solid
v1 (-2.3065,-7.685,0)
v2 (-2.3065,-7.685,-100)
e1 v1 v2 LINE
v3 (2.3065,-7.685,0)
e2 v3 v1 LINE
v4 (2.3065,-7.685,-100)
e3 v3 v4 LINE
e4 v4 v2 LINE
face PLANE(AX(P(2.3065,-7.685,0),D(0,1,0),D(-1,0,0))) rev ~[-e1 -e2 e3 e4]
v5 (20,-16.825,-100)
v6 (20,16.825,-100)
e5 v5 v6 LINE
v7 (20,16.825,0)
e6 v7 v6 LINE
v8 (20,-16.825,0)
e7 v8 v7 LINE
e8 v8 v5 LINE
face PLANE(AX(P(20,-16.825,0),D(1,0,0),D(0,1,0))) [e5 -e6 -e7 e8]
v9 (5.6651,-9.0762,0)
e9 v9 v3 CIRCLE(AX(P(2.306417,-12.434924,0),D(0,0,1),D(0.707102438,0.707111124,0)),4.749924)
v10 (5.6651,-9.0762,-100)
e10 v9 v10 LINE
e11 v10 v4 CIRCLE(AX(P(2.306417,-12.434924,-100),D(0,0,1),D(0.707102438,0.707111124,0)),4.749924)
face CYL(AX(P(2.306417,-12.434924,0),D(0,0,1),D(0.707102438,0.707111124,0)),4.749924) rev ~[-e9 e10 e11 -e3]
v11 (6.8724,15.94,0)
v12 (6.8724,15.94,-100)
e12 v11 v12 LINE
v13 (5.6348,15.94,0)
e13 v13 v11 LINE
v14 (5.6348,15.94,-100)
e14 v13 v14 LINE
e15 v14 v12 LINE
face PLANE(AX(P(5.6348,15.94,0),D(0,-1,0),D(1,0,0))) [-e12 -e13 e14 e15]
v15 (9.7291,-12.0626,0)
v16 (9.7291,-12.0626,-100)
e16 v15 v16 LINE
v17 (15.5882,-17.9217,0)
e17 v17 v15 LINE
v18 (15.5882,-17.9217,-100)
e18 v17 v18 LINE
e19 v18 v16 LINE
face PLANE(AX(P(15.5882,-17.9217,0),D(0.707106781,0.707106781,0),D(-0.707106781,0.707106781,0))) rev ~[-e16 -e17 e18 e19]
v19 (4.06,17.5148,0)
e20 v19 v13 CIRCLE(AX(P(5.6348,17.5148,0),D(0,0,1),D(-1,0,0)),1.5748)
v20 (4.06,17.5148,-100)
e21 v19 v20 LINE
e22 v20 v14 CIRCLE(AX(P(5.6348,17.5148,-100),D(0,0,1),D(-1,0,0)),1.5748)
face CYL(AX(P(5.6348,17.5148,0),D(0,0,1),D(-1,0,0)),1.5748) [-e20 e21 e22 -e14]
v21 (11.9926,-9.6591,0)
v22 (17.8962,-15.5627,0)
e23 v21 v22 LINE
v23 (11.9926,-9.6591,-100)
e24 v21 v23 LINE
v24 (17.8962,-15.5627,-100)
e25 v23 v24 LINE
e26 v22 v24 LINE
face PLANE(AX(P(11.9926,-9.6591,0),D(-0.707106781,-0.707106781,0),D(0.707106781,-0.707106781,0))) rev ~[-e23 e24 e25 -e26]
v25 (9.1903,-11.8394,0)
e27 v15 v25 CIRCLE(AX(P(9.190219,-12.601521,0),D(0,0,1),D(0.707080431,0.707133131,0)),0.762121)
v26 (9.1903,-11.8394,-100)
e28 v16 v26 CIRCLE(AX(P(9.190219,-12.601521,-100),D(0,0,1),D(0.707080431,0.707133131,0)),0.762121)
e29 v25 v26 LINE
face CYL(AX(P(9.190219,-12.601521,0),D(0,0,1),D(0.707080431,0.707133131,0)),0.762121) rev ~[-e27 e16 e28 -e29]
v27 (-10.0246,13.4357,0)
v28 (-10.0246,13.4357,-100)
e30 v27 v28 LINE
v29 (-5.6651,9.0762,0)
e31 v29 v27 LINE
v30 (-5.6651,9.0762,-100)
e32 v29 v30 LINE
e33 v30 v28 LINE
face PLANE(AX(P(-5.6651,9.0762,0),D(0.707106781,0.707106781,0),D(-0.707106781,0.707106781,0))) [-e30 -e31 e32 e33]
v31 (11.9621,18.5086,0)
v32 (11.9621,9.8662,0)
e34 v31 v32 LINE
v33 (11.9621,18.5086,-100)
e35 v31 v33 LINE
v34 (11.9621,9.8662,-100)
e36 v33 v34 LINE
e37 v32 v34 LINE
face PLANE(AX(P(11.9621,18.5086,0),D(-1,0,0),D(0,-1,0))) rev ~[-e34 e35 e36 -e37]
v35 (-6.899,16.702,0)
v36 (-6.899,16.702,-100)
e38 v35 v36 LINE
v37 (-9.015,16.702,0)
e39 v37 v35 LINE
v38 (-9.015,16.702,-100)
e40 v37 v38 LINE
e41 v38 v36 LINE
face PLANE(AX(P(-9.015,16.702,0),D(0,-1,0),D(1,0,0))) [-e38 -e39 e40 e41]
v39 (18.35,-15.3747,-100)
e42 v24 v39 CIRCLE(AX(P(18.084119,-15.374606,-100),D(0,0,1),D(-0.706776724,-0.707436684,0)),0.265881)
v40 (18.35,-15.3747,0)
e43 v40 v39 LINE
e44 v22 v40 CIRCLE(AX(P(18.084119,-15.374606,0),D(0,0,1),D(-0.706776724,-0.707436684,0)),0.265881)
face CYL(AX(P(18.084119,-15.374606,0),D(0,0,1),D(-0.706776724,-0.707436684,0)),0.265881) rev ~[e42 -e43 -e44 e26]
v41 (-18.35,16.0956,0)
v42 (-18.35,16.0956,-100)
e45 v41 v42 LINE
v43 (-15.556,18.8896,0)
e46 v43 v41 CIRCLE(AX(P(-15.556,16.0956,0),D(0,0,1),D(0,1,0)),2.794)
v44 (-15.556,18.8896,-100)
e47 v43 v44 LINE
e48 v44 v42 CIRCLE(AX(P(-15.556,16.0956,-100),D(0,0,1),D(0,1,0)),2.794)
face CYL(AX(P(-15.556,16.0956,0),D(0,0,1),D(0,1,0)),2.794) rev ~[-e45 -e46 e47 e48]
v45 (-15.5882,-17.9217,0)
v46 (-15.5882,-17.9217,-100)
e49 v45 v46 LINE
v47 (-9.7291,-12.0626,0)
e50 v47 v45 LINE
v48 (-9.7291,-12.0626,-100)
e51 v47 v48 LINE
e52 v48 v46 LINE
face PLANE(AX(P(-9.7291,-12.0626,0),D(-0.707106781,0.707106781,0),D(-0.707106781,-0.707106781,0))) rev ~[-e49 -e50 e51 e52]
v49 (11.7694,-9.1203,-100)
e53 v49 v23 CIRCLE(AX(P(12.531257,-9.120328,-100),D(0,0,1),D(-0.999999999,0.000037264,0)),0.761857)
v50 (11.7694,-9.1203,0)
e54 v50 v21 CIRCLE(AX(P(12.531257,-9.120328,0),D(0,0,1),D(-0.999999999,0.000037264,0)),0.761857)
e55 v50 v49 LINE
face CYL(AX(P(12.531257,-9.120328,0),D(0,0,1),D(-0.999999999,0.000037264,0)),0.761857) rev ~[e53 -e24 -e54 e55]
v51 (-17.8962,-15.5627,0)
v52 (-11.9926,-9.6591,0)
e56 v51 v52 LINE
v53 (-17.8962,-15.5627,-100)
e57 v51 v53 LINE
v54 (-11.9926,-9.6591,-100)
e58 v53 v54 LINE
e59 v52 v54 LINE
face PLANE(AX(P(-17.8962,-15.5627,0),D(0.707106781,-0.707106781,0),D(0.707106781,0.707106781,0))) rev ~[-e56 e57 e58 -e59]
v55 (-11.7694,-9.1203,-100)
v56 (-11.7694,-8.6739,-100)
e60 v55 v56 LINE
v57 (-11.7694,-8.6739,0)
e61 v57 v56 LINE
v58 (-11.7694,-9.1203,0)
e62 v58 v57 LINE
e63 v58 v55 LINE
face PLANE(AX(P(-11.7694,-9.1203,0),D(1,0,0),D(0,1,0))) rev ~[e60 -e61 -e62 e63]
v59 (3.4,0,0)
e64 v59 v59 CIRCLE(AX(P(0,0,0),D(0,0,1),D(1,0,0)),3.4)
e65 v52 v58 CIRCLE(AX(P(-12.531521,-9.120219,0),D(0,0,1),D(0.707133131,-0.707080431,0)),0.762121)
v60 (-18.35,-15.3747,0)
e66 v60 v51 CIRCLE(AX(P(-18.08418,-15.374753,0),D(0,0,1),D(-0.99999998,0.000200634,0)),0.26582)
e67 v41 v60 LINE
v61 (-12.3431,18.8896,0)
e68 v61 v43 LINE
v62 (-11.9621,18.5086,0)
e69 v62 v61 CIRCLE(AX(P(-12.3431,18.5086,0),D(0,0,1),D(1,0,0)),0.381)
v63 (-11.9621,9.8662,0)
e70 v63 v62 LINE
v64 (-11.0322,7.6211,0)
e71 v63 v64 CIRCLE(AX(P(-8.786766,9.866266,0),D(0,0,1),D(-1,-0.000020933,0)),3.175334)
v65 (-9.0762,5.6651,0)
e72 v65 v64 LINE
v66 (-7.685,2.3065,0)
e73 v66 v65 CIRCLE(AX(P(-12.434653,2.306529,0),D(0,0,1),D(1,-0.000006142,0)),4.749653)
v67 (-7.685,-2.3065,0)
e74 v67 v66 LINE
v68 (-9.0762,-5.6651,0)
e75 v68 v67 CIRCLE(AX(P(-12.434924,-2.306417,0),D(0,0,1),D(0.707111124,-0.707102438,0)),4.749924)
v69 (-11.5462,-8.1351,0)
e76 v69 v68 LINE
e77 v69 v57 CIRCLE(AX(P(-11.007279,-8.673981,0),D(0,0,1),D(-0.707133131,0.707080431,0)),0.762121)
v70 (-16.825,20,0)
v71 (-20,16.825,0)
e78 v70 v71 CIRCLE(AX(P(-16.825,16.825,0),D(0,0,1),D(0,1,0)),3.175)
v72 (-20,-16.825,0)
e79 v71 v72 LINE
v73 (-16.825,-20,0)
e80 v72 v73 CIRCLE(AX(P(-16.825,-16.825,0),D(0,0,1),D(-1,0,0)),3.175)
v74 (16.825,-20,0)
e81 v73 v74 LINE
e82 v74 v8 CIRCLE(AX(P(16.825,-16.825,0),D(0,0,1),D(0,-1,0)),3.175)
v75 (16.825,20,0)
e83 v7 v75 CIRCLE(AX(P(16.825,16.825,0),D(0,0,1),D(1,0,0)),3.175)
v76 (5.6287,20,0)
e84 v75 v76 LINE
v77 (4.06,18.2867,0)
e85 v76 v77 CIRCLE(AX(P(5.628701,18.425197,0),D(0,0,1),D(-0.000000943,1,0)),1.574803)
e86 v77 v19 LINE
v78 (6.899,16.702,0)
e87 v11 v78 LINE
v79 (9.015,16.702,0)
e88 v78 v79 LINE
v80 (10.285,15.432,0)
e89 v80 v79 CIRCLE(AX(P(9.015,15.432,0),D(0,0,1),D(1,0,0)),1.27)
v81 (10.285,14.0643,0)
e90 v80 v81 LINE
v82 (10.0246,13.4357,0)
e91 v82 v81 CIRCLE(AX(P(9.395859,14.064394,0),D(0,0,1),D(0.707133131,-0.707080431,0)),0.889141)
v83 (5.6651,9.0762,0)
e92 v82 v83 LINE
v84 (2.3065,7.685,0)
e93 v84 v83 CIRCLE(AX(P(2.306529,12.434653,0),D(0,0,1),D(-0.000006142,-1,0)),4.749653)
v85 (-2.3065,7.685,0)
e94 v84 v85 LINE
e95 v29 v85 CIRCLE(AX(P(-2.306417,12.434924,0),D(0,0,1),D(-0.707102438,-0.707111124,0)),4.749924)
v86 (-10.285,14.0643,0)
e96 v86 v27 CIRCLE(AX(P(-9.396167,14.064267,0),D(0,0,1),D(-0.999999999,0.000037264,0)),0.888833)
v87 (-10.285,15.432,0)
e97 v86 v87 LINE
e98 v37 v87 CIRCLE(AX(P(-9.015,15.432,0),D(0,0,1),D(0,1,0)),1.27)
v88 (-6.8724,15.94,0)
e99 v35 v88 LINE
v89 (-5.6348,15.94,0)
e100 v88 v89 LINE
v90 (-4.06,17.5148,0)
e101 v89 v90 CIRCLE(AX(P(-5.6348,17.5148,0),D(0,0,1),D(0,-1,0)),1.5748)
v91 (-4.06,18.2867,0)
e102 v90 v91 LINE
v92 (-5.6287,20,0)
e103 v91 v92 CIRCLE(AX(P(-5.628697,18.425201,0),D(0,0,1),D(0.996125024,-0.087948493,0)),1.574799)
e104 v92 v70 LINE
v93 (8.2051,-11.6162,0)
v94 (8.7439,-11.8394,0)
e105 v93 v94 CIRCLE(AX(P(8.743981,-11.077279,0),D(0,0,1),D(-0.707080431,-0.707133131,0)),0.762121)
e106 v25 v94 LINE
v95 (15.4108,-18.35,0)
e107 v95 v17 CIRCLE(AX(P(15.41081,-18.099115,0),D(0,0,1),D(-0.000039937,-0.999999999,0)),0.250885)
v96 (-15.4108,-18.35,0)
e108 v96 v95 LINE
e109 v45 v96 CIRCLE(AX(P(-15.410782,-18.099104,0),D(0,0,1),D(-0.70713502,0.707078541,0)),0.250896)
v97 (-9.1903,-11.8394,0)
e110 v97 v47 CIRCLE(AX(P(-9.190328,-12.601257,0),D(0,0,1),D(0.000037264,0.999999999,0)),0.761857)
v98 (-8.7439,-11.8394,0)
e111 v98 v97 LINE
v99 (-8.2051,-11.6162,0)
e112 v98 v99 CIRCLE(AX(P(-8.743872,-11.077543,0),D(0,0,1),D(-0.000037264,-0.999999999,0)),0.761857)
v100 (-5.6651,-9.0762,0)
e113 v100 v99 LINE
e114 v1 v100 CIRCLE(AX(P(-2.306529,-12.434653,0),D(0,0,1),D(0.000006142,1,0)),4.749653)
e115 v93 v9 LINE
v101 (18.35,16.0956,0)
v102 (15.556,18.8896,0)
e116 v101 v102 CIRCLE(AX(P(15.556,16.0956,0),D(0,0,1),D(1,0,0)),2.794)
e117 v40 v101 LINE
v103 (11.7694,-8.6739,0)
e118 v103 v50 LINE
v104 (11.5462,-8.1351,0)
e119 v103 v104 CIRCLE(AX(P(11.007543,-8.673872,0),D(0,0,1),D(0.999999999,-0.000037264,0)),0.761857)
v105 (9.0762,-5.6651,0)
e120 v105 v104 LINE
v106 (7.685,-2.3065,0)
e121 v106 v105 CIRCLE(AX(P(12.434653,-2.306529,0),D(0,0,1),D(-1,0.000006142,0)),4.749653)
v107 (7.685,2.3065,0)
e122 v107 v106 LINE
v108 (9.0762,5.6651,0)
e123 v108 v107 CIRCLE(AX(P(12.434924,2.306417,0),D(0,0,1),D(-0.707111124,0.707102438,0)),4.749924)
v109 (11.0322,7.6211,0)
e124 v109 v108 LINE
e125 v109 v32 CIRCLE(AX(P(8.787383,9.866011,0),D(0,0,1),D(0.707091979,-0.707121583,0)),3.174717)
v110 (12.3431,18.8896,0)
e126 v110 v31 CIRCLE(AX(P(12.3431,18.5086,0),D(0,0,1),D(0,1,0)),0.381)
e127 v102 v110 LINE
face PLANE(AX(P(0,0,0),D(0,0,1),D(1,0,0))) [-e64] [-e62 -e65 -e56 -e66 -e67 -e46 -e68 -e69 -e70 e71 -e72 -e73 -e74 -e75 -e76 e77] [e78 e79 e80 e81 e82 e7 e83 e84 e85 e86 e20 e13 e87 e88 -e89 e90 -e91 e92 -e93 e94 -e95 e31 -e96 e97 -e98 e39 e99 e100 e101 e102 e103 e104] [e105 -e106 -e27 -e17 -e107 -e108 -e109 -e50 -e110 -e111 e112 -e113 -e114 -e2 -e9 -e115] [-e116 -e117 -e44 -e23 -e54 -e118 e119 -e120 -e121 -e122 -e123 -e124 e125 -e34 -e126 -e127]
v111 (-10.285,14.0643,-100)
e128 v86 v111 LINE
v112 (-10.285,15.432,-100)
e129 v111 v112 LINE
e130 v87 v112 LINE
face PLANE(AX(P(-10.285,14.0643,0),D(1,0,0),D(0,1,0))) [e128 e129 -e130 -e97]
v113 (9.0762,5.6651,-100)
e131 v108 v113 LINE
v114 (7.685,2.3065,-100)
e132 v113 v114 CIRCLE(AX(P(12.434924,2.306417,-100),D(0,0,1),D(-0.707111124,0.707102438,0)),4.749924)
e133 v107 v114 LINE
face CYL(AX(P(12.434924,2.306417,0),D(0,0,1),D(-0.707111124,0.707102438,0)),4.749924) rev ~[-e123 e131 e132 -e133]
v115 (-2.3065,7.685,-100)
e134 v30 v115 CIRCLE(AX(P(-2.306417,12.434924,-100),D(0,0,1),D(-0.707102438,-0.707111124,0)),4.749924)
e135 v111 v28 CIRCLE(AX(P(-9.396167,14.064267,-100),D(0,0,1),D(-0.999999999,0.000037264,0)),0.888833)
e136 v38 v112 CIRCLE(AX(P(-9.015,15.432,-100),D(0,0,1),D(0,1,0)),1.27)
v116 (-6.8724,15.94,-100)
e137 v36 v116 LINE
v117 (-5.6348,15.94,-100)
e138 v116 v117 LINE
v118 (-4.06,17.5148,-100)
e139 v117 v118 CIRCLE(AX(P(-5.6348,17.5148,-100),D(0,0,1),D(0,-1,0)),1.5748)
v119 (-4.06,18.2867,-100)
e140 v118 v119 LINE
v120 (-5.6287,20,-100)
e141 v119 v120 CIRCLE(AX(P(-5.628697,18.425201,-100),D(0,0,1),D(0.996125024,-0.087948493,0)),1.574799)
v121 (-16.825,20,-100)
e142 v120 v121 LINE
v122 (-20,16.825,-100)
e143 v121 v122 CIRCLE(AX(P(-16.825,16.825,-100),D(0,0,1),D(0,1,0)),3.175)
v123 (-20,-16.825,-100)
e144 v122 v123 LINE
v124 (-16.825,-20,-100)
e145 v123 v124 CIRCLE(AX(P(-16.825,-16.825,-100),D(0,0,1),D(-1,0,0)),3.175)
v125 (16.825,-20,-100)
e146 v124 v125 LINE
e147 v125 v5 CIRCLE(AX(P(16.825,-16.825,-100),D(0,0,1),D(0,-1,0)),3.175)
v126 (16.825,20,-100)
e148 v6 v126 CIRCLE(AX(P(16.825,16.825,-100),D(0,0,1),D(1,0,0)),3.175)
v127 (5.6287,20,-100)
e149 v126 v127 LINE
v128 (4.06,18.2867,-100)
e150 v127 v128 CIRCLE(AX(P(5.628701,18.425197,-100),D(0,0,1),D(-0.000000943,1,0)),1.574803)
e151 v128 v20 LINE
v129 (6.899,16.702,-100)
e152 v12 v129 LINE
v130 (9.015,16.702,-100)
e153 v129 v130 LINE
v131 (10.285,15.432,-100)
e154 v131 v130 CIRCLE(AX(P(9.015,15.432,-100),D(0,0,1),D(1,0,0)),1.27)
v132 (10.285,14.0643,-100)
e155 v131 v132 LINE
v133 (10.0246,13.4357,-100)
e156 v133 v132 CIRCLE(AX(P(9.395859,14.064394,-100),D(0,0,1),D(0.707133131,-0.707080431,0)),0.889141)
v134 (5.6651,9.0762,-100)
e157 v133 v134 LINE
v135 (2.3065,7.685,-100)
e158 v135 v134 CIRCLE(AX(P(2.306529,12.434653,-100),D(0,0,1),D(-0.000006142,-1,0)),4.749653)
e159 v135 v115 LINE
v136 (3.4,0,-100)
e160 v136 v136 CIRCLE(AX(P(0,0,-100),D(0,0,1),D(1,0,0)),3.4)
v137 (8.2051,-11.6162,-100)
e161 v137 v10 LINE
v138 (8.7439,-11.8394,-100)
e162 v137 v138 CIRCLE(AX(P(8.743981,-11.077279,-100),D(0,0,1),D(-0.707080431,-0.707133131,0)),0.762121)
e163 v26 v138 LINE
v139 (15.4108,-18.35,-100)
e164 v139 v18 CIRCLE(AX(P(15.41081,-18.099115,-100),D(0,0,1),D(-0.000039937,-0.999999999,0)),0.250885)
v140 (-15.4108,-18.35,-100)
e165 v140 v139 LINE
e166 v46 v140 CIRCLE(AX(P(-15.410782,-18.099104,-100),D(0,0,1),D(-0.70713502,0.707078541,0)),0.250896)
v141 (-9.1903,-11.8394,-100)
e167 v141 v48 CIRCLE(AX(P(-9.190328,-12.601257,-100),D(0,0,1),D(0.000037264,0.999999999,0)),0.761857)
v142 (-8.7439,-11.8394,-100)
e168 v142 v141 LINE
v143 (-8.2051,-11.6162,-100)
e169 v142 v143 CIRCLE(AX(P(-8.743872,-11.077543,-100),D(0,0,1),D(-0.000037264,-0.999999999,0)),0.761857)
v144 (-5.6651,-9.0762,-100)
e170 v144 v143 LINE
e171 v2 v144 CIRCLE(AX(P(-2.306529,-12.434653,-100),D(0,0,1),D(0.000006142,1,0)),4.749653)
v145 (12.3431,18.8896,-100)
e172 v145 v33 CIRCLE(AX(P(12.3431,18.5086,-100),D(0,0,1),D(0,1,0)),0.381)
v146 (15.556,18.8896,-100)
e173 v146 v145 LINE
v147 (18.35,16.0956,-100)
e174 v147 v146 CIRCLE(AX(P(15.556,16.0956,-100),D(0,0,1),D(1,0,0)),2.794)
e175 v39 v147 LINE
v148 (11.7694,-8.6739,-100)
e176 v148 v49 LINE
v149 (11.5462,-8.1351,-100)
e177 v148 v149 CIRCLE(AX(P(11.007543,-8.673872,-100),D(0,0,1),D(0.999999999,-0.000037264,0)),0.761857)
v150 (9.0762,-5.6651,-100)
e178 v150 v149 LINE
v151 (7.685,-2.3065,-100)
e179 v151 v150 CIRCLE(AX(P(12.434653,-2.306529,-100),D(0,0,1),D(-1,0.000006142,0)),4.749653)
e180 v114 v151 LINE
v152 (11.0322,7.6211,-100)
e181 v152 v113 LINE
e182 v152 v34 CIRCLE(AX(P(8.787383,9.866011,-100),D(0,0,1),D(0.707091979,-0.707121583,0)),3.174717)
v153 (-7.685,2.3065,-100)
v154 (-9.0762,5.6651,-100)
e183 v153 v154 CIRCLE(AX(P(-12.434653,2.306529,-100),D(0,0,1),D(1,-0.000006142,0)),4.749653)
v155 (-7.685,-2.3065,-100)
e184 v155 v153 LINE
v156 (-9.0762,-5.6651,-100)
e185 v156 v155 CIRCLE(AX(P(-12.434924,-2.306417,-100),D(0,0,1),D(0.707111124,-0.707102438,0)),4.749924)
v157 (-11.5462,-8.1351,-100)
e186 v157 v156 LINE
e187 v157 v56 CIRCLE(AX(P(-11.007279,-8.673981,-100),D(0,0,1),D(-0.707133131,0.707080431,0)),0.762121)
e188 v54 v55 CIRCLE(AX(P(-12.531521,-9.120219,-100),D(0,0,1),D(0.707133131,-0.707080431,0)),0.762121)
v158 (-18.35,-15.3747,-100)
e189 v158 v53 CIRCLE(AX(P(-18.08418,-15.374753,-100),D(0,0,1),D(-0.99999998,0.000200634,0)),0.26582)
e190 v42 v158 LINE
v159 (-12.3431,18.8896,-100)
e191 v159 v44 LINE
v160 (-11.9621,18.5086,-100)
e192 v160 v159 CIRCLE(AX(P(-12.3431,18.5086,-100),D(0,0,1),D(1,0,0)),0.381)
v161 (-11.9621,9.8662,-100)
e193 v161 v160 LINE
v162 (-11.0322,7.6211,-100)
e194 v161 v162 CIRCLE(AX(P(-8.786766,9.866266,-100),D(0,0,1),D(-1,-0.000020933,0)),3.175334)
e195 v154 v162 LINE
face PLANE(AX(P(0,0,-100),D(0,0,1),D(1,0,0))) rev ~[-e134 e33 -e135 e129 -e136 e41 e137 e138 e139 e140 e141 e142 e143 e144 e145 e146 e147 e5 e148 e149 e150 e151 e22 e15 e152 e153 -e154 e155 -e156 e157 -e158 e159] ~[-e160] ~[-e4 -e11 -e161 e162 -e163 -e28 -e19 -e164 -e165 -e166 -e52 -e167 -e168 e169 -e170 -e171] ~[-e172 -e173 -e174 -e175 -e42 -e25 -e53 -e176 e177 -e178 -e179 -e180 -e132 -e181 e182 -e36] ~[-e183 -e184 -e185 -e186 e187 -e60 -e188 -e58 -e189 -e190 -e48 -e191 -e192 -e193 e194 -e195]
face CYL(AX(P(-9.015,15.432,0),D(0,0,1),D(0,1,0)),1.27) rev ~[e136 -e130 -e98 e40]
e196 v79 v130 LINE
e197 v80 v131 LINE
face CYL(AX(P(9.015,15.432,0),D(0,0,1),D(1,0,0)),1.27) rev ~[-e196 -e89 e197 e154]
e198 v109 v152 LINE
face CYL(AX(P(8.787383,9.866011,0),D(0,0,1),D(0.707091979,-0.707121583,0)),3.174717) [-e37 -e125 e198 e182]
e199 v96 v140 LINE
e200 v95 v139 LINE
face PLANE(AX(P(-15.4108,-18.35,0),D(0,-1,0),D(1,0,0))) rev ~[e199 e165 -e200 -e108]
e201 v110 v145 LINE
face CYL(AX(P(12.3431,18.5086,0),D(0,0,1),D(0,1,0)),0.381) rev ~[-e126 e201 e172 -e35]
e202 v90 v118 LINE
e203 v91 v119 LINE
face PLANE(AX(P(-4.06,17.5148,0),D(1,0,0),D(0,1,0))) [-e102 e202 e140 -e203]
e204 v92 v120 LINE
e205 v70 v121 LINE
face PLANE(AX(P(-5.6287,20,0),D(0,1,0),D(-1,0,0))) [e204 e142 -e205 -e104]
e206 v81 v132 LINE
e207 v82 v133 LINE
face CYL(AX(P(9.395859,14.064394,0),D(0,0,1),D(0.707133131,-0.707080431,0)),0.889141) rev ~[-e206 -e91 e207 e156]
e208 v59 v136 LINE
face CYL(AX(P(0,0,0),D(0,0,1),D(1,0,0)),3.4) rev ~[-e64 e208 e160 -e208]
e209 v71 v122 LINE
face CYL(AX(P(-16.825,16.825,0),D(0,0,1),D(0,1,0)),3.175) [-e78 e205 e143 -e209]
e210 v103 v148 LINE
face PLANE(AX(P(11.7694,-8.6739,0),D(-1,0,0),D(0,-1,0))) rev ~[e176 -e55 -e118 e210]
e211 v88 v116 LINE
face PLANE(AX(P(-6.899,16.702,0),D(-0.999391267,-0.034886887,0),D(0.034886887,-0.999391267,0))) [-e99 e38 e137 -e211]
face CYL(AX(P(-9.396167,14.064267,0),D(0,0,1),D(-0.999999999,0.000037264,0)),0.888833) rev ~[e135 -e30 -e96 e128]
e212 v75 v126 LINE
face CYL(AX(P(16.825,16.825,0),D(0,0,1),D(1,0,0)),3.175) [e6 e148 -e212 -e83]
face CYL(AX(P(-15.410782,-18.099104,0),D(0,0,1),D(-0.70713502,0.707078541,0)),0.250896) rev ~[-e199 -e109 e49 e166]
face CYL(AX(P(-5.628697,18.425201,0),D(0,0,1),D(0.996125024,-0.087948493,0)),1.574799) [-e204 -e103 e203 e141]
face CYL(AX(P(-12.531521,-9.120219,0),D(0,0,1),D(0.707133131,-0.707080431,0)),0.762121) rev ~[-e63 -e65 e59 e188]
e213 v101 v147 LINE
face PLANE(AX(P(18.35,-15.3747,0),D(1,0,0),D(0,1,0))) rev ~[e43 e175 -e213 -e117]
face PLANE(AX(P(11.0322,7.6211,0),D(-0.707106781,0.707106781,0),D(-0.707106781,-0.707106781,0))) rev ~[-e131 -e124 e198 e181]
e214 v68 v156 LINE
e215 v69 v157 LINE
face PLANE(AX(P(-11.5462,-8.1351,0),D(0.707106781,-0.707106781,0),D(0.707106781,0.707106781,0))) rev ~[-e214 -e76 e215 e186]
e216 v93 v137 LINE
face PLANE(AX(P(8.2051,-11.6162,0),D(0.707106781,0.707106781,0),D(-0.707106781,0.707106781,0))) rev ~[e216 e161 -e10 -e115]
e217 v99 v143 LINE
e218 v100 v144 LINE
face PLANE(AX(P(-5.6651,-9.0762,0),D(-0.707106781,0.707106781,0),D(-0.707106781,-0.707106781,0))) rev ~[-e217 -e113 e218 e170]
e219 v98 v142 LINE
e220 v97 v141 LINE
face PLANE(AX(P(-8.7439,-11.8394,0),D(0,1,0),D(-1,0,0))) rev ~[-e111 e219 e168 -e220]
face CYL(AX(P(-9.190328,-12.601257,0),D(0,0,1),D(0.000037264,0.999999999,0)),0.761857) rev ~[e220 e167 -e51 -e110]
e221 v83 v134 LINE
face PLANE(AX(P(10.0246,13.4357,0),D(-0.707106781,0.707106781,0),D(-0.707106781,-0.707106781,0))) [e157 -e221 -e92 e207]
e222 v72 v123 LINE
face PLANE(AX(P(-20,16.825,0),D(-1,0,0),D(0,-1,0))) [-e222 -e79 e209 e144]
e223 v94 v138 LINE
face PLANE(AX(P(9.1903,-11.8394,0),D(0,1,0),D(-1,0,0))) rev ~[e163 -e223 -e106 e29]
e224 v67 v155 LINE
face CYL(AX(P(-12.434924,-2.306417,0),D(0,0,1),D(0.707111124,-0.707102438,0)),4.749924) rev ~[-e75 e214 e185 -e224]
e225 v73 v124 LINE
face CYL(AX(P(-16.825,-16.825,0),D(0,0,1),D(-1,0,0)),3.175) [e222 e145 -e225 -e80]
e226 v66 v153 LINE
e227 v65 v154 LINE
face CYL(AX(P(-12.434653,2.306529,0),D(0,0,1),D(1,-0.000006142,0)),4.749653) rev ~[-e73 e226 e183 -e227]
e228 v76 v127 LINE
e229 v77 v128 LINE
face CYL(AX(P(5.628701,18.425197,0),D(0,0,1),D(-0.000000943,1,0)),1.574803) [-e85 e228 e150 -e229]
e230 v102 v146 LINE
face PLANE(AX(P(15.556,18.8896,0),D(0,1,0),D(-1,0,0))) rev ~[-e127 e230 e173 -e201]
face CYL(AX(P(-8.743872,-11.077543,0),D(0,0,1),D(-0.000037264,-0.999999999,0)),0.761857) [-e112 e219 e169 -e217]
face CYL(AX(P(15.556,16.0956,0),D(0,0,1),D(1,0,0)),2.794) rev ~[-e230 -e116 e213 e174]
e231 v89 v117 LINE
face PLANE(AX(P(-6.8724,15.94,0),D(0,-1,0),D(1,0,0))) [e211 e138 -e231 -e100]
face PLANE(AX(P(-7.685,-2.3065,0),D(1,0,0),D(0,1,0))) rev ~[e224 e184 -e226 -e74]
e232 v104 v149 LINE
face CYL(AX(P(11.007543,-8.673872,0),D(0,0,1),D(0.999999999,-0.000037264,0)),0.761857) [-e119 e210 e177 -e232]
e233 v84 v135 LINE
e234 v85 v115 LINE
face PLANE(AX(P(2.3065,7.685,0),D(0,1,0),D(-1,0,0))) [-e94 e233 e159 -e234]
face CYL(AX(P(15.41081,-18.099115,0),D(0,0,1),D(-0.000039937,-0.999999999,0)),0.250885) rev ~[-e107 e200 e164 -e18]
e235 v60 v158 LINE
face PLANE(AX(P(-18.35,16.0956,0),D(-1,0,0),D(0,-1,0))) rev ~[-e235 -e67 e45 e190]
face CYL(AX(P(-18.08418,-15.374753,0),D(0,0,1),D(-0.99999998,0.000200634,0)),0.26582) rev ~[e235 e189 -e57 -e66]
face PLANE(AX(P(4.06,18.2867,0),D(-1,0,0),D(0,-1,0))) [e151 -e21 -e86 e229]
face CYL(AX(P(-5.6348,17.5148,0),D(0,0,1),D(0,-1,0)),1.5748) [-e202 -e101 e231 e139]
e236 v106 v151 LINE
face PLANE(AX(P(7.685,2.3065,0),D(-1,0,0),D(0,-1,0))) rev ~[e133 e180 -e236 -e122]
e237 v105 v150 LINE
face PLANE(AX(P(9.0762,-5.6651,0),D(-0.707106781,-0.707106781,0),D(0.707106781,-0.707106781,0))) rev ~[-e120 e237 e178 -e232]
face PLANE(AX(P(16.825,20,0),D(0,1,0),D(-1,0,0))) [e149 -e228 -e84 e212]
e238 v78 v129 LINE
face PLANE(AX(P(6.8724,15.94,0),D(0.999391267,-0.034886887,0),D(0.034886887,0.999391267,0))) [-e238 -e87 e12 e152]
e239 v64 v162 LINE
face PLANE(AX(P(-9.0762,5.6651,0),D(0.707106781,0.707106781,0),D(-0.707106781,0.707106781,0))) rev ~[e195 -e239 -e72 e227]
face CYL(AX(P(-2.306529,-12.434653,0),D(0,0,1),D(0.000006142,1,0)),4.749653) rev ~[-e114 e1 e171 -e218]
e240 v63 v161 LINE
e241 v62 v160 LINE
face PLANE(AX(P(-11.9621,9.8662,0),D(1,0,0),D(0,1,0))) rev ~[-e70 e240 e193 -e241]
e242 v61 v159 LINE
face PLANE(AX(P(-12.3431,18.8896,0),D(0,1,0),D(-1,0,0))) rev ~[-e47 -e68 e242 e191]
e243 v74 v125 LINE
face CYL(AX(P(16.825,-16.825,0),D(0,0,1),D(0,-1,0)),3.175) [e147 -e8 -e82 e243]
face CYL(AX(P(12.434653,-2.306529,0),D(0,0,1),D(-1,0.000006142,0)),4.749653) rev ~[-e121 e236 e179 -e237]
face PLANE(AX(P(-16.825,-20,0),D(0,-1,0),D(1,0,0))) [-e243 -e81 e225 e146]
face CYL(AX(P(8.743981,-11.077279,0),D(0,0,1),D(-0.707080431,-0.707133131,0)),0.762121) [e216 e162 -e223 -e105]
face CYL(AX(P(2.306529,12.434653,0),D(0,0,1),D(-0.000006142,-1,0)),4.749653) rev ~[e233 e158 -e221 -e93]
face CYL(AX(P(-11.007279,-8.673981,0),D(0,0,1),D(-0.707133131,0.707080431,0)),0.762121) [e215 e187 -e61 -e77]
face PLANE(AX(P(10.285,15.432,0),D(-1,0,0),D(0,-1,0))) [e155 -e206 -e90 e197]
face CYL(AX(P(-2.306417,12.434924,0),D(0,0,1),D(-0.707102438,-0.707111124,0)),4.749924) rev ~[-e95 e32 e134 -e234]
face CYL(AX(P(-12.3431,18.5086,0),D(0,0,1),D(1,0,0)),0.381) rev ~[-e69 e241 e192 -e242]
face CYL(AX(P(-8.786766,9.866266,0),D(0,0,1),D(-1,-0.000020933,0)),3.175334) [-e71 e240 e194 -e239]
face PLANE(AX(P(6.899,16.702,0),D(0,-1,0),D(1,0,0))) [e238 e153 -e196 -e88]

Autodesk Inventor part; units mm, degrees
ref_plane "YZ Plane" through (0, 0, 0) normal (1, 0, 0) x (0, 1, 0)
ref_plane "XZ Plane" through (0, 0, 0) normal (0, 1, 0) x (-1, 0, 0)
ref_plane "XY Plane" through (0, 0, 0) normal (0, 0, 1) x (1, 0, 0)
sketch "Sketch1" plane through (0, 0, 0) normal (0, 0, 1) x (1, 0, 0)
  circle A0 centre (0, 0) radius 3.4
  arc A1 (15.4108, -18.35) -> (15.5882, -17.9217) centre (15.4108, -18.0991) ccw
  line L0 (-15.4108, -18.35) -> (15.4108, -18.35)
  arc A2 (-15.5882, -17.9217) -> (-15.4108, -18.35) centre (-15.4108, -18.0991) ccw
  line L1 (-9.7291, -12.0626) -> (-15.5882, -17.9217)
  arc A3 (-9.1903, -11.8394) -> (-9.7291, -12.0626) centre (-9.1903, -12.6014) ccw
  line L2 (-8.7439, -11.8394) -> (-9.1903, -11.8394)
  arc A4 (-8.7439, -11.8394) -> (-8.2051, -11.6162) centre (-8.7439, -11.0774) ccw
  line L3 (-5.6651, -9.0762) -> (-8.2051, -11.6162)
  arc A5 (-2.3065, -7.685) -> (-5.6651, -9.0762) centre (-2.3065, -12.4348) ccw
  line L4 (2.3065, -7.685) -> (-2.3065, -7.685)
  arc A6 (5.6651, -9.0762) -> (2.3065, -7.685) centre (2.3065, -12.4348) ccw
  line L5 (8.2051, -11.6162) -> (5.6651, -9.0762)
  arc A7 (8.2051, -11.6162) -> (8.7439, -11.8394) centre (8.7439, -11.0774) ccw
  line L6 (9.1903, -11.8394) -> (8.7439, -11.8394)
  arc A8 (9.7291, -12.0626) -> (9.1903, -11.8394) centre (9.1903, -12.6014) ccw
  line L7 (15.5882, -17.9217) -> (9.7291, -12.0626)
  arc A9 (11.7694, -8.6739) -> (11.5462, -8.1351) centre (11.0074, -8.6739) ccw
  line L8 (9.0762, -5.6651) -> (11.5462, -8.1351)
  arc A10 (7.685, -2.3065) -> (9.0762, -5.6651) centre (12.4348, -2.3065) ccw
  line L9 (7.685, 2.3065) -> (7.685, -2.3065)
  arc A11 (9.0762, 5.6651) -> (7.685, 2.3065) centre (12.4348, 2.3065) ccw
  line L10 (11.0322, 7.6211) -> (9.0762, 5.6651)
  arc A12 (11.0322, 7.6211) -> (11.9621, 9.8662) centre (8.7871, 9.8662) ccw
  line L11 (11.9621, 18.5086) -> (11.9621, 9.8662)
  arc A13 (12.3431, 18.8896) -> (11.9621, 18.5086) centre (12.3431, 18.5086) ccw
  line L12 (15.556, 18.8896) -> (12.3431, 18.8896)
  arc A14 (18.35, 16.0956) -> (15.556, 18.8896) centre (15.556, 16.0956) ccw
  line L13 (18.35, -15.3747) -> (18.35, 16.0956)
  arc A15 (17.8962, -15.5627) -> (18.35, -15.3747) centre (18.0841, -15.3747) ccw
  line L14 (11.9926, -9.6591) -> (17.8962, -15.5627)
  arc A16 (11.7694, -9.1203) -> (11.9926, -9.6591) centre (12.5314, -9.1203) ccw
  line L15 (11.7694, -8.6739) -> (11.7694, -9.1203)
  arc A17 (-9.0762, -5.6651) -> (-7.685, -2.3065) centre (-12.4348, -2.3065) ccw
  line L16 (-11.5462, -8.1351) -> (-9.0762, -5.6651)
  arc A18 (-11.5462, -8.1351) -> (-11.7694, -8.6739) centre (-11.0074, -8.6739) ccw
  line L17 (-11.7694, -9.1203) -> (-11.7694, -8.6739)
  arc A19 (-11.9926, -9.6591) -> (-11.7694, -9.1203) centre (-12.5314, -9.1203) ccw
  line L18 (-17.8962, -15.5627) -> (-11.9926, -9.6591)
  arc A20 (-18.35, -15.3747) -> (-17.8962, -15.5627) centre (-18.0841, -15.3747) ccw
  line L19 (-18.35, 16.0956) -> (-18.35, -15.3747)
  arc A21 (-15.556, 18.8896) -> (-18.35, 16.0956) centre (-15.556, 16.0956) ccw
  line L20 (-12.3431, 18.8896) -> (-15.556, 18.8896)
  arc A22 (-11.9621, 18.5086) -> (-12.3431, 18.8896) centre (-12.3431, 18.5086) ccw
  line L21 (-11.9621, 9.8662) -> (-11.9621, 18.5086)
  arc A23 (-11.9621, 9.8662) -> (-11.0322, 7.6211) centre (-8.7871, 9.8662) ccw
  line L22 (-9.0762, 5.6651) -> (-11.0322, 7.6211)
  arc A24 (-7.685, 2.3065) -> (-9.0762, 5.6651) centre (-12.4348, 2.3065) ccw
  line L23 (-7.685, -2.3065) -> (-7.685, 2.3065)
  arc A25 (20, 16.825) -> (16.825, 20) centre (16.825, 16.825) ccw
  line L24 (16.825, 20) -> (5.6287, 20)
  arc A26 (5.6287, 20) -> (4.06, 18.2867) centre (5.6287, 18.4252) ccw
  line L25 (4.06, 18.2867) -> (4.06, 17.5148)
  arc A27 (4.06, 17.5148) -> (5.6348, 15.94) centre (5.6348, 17.5148) ccw
  line L26 (5.6348, 15.94) -> (6.8724, 15.94)
  line L27 (6.8724, 15.94) -> (6.899, 16.702)
  line L28 (6.899, 16.702) -> (9.015, 16.702)
  arc A28 (10.285, 15.432) -> (9.015, 16.702) centre (9.015, 15.432) ccw
  line L29 (10.285, 15.432) -> (10.285, 14.0643)
  arc A29 (10.0246, 13.4357) -> (10.285, 14.0643) centre (9.396, 14.0643) ccw
  line L30 (10.0246, 13.4357) -> (5.6651, 9.0762)
  arc A30 (2.3065, 7.685) -> (5.6651, 9.0762) centre (2.3065, 12.4348) ccw
  line L31 (2.3065, 7.685) -> (-2.3065, 7.685)
  arc A31 (-5.6651, 9.0762) -> (-2.3065, 7.685) centre (-2.3065, 12.4348) ccw
  line L32 (-5.6651, 9.0762) -> (-10.0246, 13.4357)
  arc A32 (-10.285, 14.0643) -> (-10.0246, 13.4357) centre (-9.396, 14.0643) ccw
  line L33 (-10.285, 14.0643) -> (-10.285, 15.432)
  arc A33 (-9.015, 16.702) -> (-10.285, 15.432) centre (-9.015, 15.432) ccw
  line L34 (-9.015, 16.702) -> (-6.899, 16.702)
  line L35 (-6.899, 16.702) -> (-6.8724, 15.94)
  line L36 (-6.8724, 15.94) -> (-5.6348, 15.94)
  arc A34 (-5.6348, 15.94) -> (-4.06, 17.5148) centre (-5.6348, 17.5148) ccw
  line L37 (-4.06, 17.5148) -> (-4.06, 18.2867)
  arc A35 (-4.06, 18.2867) -> (-5.6287, 20) centre (-5.6287, 18.4252) ccw
  line L38 (-5.6287, 20) -> (-16.825, 20)
  arc A36 (-16.825, 20) -> (-20, 16.825) centre (-16.825, 16.825) ccw
  line L39 (-20, 16.825) -> (-20, -16.825)
  arc A37 (-20, -16.825) -> (-16.825, -20) centre (-16.825, -16.825) ccw
  line L40 (-16.825, -20) -> (16.825, -20)
  arc A38 (16.825, -20) -> (20, -16.825) centre (16.825, -16.825) ccw
  line L41 (20, -16.825) -> (20, 16.825)
extrude "Extrusion1" add sketch "Sketch1" against normal blind 100
properties part number "40-4001-BLACK-FB"
